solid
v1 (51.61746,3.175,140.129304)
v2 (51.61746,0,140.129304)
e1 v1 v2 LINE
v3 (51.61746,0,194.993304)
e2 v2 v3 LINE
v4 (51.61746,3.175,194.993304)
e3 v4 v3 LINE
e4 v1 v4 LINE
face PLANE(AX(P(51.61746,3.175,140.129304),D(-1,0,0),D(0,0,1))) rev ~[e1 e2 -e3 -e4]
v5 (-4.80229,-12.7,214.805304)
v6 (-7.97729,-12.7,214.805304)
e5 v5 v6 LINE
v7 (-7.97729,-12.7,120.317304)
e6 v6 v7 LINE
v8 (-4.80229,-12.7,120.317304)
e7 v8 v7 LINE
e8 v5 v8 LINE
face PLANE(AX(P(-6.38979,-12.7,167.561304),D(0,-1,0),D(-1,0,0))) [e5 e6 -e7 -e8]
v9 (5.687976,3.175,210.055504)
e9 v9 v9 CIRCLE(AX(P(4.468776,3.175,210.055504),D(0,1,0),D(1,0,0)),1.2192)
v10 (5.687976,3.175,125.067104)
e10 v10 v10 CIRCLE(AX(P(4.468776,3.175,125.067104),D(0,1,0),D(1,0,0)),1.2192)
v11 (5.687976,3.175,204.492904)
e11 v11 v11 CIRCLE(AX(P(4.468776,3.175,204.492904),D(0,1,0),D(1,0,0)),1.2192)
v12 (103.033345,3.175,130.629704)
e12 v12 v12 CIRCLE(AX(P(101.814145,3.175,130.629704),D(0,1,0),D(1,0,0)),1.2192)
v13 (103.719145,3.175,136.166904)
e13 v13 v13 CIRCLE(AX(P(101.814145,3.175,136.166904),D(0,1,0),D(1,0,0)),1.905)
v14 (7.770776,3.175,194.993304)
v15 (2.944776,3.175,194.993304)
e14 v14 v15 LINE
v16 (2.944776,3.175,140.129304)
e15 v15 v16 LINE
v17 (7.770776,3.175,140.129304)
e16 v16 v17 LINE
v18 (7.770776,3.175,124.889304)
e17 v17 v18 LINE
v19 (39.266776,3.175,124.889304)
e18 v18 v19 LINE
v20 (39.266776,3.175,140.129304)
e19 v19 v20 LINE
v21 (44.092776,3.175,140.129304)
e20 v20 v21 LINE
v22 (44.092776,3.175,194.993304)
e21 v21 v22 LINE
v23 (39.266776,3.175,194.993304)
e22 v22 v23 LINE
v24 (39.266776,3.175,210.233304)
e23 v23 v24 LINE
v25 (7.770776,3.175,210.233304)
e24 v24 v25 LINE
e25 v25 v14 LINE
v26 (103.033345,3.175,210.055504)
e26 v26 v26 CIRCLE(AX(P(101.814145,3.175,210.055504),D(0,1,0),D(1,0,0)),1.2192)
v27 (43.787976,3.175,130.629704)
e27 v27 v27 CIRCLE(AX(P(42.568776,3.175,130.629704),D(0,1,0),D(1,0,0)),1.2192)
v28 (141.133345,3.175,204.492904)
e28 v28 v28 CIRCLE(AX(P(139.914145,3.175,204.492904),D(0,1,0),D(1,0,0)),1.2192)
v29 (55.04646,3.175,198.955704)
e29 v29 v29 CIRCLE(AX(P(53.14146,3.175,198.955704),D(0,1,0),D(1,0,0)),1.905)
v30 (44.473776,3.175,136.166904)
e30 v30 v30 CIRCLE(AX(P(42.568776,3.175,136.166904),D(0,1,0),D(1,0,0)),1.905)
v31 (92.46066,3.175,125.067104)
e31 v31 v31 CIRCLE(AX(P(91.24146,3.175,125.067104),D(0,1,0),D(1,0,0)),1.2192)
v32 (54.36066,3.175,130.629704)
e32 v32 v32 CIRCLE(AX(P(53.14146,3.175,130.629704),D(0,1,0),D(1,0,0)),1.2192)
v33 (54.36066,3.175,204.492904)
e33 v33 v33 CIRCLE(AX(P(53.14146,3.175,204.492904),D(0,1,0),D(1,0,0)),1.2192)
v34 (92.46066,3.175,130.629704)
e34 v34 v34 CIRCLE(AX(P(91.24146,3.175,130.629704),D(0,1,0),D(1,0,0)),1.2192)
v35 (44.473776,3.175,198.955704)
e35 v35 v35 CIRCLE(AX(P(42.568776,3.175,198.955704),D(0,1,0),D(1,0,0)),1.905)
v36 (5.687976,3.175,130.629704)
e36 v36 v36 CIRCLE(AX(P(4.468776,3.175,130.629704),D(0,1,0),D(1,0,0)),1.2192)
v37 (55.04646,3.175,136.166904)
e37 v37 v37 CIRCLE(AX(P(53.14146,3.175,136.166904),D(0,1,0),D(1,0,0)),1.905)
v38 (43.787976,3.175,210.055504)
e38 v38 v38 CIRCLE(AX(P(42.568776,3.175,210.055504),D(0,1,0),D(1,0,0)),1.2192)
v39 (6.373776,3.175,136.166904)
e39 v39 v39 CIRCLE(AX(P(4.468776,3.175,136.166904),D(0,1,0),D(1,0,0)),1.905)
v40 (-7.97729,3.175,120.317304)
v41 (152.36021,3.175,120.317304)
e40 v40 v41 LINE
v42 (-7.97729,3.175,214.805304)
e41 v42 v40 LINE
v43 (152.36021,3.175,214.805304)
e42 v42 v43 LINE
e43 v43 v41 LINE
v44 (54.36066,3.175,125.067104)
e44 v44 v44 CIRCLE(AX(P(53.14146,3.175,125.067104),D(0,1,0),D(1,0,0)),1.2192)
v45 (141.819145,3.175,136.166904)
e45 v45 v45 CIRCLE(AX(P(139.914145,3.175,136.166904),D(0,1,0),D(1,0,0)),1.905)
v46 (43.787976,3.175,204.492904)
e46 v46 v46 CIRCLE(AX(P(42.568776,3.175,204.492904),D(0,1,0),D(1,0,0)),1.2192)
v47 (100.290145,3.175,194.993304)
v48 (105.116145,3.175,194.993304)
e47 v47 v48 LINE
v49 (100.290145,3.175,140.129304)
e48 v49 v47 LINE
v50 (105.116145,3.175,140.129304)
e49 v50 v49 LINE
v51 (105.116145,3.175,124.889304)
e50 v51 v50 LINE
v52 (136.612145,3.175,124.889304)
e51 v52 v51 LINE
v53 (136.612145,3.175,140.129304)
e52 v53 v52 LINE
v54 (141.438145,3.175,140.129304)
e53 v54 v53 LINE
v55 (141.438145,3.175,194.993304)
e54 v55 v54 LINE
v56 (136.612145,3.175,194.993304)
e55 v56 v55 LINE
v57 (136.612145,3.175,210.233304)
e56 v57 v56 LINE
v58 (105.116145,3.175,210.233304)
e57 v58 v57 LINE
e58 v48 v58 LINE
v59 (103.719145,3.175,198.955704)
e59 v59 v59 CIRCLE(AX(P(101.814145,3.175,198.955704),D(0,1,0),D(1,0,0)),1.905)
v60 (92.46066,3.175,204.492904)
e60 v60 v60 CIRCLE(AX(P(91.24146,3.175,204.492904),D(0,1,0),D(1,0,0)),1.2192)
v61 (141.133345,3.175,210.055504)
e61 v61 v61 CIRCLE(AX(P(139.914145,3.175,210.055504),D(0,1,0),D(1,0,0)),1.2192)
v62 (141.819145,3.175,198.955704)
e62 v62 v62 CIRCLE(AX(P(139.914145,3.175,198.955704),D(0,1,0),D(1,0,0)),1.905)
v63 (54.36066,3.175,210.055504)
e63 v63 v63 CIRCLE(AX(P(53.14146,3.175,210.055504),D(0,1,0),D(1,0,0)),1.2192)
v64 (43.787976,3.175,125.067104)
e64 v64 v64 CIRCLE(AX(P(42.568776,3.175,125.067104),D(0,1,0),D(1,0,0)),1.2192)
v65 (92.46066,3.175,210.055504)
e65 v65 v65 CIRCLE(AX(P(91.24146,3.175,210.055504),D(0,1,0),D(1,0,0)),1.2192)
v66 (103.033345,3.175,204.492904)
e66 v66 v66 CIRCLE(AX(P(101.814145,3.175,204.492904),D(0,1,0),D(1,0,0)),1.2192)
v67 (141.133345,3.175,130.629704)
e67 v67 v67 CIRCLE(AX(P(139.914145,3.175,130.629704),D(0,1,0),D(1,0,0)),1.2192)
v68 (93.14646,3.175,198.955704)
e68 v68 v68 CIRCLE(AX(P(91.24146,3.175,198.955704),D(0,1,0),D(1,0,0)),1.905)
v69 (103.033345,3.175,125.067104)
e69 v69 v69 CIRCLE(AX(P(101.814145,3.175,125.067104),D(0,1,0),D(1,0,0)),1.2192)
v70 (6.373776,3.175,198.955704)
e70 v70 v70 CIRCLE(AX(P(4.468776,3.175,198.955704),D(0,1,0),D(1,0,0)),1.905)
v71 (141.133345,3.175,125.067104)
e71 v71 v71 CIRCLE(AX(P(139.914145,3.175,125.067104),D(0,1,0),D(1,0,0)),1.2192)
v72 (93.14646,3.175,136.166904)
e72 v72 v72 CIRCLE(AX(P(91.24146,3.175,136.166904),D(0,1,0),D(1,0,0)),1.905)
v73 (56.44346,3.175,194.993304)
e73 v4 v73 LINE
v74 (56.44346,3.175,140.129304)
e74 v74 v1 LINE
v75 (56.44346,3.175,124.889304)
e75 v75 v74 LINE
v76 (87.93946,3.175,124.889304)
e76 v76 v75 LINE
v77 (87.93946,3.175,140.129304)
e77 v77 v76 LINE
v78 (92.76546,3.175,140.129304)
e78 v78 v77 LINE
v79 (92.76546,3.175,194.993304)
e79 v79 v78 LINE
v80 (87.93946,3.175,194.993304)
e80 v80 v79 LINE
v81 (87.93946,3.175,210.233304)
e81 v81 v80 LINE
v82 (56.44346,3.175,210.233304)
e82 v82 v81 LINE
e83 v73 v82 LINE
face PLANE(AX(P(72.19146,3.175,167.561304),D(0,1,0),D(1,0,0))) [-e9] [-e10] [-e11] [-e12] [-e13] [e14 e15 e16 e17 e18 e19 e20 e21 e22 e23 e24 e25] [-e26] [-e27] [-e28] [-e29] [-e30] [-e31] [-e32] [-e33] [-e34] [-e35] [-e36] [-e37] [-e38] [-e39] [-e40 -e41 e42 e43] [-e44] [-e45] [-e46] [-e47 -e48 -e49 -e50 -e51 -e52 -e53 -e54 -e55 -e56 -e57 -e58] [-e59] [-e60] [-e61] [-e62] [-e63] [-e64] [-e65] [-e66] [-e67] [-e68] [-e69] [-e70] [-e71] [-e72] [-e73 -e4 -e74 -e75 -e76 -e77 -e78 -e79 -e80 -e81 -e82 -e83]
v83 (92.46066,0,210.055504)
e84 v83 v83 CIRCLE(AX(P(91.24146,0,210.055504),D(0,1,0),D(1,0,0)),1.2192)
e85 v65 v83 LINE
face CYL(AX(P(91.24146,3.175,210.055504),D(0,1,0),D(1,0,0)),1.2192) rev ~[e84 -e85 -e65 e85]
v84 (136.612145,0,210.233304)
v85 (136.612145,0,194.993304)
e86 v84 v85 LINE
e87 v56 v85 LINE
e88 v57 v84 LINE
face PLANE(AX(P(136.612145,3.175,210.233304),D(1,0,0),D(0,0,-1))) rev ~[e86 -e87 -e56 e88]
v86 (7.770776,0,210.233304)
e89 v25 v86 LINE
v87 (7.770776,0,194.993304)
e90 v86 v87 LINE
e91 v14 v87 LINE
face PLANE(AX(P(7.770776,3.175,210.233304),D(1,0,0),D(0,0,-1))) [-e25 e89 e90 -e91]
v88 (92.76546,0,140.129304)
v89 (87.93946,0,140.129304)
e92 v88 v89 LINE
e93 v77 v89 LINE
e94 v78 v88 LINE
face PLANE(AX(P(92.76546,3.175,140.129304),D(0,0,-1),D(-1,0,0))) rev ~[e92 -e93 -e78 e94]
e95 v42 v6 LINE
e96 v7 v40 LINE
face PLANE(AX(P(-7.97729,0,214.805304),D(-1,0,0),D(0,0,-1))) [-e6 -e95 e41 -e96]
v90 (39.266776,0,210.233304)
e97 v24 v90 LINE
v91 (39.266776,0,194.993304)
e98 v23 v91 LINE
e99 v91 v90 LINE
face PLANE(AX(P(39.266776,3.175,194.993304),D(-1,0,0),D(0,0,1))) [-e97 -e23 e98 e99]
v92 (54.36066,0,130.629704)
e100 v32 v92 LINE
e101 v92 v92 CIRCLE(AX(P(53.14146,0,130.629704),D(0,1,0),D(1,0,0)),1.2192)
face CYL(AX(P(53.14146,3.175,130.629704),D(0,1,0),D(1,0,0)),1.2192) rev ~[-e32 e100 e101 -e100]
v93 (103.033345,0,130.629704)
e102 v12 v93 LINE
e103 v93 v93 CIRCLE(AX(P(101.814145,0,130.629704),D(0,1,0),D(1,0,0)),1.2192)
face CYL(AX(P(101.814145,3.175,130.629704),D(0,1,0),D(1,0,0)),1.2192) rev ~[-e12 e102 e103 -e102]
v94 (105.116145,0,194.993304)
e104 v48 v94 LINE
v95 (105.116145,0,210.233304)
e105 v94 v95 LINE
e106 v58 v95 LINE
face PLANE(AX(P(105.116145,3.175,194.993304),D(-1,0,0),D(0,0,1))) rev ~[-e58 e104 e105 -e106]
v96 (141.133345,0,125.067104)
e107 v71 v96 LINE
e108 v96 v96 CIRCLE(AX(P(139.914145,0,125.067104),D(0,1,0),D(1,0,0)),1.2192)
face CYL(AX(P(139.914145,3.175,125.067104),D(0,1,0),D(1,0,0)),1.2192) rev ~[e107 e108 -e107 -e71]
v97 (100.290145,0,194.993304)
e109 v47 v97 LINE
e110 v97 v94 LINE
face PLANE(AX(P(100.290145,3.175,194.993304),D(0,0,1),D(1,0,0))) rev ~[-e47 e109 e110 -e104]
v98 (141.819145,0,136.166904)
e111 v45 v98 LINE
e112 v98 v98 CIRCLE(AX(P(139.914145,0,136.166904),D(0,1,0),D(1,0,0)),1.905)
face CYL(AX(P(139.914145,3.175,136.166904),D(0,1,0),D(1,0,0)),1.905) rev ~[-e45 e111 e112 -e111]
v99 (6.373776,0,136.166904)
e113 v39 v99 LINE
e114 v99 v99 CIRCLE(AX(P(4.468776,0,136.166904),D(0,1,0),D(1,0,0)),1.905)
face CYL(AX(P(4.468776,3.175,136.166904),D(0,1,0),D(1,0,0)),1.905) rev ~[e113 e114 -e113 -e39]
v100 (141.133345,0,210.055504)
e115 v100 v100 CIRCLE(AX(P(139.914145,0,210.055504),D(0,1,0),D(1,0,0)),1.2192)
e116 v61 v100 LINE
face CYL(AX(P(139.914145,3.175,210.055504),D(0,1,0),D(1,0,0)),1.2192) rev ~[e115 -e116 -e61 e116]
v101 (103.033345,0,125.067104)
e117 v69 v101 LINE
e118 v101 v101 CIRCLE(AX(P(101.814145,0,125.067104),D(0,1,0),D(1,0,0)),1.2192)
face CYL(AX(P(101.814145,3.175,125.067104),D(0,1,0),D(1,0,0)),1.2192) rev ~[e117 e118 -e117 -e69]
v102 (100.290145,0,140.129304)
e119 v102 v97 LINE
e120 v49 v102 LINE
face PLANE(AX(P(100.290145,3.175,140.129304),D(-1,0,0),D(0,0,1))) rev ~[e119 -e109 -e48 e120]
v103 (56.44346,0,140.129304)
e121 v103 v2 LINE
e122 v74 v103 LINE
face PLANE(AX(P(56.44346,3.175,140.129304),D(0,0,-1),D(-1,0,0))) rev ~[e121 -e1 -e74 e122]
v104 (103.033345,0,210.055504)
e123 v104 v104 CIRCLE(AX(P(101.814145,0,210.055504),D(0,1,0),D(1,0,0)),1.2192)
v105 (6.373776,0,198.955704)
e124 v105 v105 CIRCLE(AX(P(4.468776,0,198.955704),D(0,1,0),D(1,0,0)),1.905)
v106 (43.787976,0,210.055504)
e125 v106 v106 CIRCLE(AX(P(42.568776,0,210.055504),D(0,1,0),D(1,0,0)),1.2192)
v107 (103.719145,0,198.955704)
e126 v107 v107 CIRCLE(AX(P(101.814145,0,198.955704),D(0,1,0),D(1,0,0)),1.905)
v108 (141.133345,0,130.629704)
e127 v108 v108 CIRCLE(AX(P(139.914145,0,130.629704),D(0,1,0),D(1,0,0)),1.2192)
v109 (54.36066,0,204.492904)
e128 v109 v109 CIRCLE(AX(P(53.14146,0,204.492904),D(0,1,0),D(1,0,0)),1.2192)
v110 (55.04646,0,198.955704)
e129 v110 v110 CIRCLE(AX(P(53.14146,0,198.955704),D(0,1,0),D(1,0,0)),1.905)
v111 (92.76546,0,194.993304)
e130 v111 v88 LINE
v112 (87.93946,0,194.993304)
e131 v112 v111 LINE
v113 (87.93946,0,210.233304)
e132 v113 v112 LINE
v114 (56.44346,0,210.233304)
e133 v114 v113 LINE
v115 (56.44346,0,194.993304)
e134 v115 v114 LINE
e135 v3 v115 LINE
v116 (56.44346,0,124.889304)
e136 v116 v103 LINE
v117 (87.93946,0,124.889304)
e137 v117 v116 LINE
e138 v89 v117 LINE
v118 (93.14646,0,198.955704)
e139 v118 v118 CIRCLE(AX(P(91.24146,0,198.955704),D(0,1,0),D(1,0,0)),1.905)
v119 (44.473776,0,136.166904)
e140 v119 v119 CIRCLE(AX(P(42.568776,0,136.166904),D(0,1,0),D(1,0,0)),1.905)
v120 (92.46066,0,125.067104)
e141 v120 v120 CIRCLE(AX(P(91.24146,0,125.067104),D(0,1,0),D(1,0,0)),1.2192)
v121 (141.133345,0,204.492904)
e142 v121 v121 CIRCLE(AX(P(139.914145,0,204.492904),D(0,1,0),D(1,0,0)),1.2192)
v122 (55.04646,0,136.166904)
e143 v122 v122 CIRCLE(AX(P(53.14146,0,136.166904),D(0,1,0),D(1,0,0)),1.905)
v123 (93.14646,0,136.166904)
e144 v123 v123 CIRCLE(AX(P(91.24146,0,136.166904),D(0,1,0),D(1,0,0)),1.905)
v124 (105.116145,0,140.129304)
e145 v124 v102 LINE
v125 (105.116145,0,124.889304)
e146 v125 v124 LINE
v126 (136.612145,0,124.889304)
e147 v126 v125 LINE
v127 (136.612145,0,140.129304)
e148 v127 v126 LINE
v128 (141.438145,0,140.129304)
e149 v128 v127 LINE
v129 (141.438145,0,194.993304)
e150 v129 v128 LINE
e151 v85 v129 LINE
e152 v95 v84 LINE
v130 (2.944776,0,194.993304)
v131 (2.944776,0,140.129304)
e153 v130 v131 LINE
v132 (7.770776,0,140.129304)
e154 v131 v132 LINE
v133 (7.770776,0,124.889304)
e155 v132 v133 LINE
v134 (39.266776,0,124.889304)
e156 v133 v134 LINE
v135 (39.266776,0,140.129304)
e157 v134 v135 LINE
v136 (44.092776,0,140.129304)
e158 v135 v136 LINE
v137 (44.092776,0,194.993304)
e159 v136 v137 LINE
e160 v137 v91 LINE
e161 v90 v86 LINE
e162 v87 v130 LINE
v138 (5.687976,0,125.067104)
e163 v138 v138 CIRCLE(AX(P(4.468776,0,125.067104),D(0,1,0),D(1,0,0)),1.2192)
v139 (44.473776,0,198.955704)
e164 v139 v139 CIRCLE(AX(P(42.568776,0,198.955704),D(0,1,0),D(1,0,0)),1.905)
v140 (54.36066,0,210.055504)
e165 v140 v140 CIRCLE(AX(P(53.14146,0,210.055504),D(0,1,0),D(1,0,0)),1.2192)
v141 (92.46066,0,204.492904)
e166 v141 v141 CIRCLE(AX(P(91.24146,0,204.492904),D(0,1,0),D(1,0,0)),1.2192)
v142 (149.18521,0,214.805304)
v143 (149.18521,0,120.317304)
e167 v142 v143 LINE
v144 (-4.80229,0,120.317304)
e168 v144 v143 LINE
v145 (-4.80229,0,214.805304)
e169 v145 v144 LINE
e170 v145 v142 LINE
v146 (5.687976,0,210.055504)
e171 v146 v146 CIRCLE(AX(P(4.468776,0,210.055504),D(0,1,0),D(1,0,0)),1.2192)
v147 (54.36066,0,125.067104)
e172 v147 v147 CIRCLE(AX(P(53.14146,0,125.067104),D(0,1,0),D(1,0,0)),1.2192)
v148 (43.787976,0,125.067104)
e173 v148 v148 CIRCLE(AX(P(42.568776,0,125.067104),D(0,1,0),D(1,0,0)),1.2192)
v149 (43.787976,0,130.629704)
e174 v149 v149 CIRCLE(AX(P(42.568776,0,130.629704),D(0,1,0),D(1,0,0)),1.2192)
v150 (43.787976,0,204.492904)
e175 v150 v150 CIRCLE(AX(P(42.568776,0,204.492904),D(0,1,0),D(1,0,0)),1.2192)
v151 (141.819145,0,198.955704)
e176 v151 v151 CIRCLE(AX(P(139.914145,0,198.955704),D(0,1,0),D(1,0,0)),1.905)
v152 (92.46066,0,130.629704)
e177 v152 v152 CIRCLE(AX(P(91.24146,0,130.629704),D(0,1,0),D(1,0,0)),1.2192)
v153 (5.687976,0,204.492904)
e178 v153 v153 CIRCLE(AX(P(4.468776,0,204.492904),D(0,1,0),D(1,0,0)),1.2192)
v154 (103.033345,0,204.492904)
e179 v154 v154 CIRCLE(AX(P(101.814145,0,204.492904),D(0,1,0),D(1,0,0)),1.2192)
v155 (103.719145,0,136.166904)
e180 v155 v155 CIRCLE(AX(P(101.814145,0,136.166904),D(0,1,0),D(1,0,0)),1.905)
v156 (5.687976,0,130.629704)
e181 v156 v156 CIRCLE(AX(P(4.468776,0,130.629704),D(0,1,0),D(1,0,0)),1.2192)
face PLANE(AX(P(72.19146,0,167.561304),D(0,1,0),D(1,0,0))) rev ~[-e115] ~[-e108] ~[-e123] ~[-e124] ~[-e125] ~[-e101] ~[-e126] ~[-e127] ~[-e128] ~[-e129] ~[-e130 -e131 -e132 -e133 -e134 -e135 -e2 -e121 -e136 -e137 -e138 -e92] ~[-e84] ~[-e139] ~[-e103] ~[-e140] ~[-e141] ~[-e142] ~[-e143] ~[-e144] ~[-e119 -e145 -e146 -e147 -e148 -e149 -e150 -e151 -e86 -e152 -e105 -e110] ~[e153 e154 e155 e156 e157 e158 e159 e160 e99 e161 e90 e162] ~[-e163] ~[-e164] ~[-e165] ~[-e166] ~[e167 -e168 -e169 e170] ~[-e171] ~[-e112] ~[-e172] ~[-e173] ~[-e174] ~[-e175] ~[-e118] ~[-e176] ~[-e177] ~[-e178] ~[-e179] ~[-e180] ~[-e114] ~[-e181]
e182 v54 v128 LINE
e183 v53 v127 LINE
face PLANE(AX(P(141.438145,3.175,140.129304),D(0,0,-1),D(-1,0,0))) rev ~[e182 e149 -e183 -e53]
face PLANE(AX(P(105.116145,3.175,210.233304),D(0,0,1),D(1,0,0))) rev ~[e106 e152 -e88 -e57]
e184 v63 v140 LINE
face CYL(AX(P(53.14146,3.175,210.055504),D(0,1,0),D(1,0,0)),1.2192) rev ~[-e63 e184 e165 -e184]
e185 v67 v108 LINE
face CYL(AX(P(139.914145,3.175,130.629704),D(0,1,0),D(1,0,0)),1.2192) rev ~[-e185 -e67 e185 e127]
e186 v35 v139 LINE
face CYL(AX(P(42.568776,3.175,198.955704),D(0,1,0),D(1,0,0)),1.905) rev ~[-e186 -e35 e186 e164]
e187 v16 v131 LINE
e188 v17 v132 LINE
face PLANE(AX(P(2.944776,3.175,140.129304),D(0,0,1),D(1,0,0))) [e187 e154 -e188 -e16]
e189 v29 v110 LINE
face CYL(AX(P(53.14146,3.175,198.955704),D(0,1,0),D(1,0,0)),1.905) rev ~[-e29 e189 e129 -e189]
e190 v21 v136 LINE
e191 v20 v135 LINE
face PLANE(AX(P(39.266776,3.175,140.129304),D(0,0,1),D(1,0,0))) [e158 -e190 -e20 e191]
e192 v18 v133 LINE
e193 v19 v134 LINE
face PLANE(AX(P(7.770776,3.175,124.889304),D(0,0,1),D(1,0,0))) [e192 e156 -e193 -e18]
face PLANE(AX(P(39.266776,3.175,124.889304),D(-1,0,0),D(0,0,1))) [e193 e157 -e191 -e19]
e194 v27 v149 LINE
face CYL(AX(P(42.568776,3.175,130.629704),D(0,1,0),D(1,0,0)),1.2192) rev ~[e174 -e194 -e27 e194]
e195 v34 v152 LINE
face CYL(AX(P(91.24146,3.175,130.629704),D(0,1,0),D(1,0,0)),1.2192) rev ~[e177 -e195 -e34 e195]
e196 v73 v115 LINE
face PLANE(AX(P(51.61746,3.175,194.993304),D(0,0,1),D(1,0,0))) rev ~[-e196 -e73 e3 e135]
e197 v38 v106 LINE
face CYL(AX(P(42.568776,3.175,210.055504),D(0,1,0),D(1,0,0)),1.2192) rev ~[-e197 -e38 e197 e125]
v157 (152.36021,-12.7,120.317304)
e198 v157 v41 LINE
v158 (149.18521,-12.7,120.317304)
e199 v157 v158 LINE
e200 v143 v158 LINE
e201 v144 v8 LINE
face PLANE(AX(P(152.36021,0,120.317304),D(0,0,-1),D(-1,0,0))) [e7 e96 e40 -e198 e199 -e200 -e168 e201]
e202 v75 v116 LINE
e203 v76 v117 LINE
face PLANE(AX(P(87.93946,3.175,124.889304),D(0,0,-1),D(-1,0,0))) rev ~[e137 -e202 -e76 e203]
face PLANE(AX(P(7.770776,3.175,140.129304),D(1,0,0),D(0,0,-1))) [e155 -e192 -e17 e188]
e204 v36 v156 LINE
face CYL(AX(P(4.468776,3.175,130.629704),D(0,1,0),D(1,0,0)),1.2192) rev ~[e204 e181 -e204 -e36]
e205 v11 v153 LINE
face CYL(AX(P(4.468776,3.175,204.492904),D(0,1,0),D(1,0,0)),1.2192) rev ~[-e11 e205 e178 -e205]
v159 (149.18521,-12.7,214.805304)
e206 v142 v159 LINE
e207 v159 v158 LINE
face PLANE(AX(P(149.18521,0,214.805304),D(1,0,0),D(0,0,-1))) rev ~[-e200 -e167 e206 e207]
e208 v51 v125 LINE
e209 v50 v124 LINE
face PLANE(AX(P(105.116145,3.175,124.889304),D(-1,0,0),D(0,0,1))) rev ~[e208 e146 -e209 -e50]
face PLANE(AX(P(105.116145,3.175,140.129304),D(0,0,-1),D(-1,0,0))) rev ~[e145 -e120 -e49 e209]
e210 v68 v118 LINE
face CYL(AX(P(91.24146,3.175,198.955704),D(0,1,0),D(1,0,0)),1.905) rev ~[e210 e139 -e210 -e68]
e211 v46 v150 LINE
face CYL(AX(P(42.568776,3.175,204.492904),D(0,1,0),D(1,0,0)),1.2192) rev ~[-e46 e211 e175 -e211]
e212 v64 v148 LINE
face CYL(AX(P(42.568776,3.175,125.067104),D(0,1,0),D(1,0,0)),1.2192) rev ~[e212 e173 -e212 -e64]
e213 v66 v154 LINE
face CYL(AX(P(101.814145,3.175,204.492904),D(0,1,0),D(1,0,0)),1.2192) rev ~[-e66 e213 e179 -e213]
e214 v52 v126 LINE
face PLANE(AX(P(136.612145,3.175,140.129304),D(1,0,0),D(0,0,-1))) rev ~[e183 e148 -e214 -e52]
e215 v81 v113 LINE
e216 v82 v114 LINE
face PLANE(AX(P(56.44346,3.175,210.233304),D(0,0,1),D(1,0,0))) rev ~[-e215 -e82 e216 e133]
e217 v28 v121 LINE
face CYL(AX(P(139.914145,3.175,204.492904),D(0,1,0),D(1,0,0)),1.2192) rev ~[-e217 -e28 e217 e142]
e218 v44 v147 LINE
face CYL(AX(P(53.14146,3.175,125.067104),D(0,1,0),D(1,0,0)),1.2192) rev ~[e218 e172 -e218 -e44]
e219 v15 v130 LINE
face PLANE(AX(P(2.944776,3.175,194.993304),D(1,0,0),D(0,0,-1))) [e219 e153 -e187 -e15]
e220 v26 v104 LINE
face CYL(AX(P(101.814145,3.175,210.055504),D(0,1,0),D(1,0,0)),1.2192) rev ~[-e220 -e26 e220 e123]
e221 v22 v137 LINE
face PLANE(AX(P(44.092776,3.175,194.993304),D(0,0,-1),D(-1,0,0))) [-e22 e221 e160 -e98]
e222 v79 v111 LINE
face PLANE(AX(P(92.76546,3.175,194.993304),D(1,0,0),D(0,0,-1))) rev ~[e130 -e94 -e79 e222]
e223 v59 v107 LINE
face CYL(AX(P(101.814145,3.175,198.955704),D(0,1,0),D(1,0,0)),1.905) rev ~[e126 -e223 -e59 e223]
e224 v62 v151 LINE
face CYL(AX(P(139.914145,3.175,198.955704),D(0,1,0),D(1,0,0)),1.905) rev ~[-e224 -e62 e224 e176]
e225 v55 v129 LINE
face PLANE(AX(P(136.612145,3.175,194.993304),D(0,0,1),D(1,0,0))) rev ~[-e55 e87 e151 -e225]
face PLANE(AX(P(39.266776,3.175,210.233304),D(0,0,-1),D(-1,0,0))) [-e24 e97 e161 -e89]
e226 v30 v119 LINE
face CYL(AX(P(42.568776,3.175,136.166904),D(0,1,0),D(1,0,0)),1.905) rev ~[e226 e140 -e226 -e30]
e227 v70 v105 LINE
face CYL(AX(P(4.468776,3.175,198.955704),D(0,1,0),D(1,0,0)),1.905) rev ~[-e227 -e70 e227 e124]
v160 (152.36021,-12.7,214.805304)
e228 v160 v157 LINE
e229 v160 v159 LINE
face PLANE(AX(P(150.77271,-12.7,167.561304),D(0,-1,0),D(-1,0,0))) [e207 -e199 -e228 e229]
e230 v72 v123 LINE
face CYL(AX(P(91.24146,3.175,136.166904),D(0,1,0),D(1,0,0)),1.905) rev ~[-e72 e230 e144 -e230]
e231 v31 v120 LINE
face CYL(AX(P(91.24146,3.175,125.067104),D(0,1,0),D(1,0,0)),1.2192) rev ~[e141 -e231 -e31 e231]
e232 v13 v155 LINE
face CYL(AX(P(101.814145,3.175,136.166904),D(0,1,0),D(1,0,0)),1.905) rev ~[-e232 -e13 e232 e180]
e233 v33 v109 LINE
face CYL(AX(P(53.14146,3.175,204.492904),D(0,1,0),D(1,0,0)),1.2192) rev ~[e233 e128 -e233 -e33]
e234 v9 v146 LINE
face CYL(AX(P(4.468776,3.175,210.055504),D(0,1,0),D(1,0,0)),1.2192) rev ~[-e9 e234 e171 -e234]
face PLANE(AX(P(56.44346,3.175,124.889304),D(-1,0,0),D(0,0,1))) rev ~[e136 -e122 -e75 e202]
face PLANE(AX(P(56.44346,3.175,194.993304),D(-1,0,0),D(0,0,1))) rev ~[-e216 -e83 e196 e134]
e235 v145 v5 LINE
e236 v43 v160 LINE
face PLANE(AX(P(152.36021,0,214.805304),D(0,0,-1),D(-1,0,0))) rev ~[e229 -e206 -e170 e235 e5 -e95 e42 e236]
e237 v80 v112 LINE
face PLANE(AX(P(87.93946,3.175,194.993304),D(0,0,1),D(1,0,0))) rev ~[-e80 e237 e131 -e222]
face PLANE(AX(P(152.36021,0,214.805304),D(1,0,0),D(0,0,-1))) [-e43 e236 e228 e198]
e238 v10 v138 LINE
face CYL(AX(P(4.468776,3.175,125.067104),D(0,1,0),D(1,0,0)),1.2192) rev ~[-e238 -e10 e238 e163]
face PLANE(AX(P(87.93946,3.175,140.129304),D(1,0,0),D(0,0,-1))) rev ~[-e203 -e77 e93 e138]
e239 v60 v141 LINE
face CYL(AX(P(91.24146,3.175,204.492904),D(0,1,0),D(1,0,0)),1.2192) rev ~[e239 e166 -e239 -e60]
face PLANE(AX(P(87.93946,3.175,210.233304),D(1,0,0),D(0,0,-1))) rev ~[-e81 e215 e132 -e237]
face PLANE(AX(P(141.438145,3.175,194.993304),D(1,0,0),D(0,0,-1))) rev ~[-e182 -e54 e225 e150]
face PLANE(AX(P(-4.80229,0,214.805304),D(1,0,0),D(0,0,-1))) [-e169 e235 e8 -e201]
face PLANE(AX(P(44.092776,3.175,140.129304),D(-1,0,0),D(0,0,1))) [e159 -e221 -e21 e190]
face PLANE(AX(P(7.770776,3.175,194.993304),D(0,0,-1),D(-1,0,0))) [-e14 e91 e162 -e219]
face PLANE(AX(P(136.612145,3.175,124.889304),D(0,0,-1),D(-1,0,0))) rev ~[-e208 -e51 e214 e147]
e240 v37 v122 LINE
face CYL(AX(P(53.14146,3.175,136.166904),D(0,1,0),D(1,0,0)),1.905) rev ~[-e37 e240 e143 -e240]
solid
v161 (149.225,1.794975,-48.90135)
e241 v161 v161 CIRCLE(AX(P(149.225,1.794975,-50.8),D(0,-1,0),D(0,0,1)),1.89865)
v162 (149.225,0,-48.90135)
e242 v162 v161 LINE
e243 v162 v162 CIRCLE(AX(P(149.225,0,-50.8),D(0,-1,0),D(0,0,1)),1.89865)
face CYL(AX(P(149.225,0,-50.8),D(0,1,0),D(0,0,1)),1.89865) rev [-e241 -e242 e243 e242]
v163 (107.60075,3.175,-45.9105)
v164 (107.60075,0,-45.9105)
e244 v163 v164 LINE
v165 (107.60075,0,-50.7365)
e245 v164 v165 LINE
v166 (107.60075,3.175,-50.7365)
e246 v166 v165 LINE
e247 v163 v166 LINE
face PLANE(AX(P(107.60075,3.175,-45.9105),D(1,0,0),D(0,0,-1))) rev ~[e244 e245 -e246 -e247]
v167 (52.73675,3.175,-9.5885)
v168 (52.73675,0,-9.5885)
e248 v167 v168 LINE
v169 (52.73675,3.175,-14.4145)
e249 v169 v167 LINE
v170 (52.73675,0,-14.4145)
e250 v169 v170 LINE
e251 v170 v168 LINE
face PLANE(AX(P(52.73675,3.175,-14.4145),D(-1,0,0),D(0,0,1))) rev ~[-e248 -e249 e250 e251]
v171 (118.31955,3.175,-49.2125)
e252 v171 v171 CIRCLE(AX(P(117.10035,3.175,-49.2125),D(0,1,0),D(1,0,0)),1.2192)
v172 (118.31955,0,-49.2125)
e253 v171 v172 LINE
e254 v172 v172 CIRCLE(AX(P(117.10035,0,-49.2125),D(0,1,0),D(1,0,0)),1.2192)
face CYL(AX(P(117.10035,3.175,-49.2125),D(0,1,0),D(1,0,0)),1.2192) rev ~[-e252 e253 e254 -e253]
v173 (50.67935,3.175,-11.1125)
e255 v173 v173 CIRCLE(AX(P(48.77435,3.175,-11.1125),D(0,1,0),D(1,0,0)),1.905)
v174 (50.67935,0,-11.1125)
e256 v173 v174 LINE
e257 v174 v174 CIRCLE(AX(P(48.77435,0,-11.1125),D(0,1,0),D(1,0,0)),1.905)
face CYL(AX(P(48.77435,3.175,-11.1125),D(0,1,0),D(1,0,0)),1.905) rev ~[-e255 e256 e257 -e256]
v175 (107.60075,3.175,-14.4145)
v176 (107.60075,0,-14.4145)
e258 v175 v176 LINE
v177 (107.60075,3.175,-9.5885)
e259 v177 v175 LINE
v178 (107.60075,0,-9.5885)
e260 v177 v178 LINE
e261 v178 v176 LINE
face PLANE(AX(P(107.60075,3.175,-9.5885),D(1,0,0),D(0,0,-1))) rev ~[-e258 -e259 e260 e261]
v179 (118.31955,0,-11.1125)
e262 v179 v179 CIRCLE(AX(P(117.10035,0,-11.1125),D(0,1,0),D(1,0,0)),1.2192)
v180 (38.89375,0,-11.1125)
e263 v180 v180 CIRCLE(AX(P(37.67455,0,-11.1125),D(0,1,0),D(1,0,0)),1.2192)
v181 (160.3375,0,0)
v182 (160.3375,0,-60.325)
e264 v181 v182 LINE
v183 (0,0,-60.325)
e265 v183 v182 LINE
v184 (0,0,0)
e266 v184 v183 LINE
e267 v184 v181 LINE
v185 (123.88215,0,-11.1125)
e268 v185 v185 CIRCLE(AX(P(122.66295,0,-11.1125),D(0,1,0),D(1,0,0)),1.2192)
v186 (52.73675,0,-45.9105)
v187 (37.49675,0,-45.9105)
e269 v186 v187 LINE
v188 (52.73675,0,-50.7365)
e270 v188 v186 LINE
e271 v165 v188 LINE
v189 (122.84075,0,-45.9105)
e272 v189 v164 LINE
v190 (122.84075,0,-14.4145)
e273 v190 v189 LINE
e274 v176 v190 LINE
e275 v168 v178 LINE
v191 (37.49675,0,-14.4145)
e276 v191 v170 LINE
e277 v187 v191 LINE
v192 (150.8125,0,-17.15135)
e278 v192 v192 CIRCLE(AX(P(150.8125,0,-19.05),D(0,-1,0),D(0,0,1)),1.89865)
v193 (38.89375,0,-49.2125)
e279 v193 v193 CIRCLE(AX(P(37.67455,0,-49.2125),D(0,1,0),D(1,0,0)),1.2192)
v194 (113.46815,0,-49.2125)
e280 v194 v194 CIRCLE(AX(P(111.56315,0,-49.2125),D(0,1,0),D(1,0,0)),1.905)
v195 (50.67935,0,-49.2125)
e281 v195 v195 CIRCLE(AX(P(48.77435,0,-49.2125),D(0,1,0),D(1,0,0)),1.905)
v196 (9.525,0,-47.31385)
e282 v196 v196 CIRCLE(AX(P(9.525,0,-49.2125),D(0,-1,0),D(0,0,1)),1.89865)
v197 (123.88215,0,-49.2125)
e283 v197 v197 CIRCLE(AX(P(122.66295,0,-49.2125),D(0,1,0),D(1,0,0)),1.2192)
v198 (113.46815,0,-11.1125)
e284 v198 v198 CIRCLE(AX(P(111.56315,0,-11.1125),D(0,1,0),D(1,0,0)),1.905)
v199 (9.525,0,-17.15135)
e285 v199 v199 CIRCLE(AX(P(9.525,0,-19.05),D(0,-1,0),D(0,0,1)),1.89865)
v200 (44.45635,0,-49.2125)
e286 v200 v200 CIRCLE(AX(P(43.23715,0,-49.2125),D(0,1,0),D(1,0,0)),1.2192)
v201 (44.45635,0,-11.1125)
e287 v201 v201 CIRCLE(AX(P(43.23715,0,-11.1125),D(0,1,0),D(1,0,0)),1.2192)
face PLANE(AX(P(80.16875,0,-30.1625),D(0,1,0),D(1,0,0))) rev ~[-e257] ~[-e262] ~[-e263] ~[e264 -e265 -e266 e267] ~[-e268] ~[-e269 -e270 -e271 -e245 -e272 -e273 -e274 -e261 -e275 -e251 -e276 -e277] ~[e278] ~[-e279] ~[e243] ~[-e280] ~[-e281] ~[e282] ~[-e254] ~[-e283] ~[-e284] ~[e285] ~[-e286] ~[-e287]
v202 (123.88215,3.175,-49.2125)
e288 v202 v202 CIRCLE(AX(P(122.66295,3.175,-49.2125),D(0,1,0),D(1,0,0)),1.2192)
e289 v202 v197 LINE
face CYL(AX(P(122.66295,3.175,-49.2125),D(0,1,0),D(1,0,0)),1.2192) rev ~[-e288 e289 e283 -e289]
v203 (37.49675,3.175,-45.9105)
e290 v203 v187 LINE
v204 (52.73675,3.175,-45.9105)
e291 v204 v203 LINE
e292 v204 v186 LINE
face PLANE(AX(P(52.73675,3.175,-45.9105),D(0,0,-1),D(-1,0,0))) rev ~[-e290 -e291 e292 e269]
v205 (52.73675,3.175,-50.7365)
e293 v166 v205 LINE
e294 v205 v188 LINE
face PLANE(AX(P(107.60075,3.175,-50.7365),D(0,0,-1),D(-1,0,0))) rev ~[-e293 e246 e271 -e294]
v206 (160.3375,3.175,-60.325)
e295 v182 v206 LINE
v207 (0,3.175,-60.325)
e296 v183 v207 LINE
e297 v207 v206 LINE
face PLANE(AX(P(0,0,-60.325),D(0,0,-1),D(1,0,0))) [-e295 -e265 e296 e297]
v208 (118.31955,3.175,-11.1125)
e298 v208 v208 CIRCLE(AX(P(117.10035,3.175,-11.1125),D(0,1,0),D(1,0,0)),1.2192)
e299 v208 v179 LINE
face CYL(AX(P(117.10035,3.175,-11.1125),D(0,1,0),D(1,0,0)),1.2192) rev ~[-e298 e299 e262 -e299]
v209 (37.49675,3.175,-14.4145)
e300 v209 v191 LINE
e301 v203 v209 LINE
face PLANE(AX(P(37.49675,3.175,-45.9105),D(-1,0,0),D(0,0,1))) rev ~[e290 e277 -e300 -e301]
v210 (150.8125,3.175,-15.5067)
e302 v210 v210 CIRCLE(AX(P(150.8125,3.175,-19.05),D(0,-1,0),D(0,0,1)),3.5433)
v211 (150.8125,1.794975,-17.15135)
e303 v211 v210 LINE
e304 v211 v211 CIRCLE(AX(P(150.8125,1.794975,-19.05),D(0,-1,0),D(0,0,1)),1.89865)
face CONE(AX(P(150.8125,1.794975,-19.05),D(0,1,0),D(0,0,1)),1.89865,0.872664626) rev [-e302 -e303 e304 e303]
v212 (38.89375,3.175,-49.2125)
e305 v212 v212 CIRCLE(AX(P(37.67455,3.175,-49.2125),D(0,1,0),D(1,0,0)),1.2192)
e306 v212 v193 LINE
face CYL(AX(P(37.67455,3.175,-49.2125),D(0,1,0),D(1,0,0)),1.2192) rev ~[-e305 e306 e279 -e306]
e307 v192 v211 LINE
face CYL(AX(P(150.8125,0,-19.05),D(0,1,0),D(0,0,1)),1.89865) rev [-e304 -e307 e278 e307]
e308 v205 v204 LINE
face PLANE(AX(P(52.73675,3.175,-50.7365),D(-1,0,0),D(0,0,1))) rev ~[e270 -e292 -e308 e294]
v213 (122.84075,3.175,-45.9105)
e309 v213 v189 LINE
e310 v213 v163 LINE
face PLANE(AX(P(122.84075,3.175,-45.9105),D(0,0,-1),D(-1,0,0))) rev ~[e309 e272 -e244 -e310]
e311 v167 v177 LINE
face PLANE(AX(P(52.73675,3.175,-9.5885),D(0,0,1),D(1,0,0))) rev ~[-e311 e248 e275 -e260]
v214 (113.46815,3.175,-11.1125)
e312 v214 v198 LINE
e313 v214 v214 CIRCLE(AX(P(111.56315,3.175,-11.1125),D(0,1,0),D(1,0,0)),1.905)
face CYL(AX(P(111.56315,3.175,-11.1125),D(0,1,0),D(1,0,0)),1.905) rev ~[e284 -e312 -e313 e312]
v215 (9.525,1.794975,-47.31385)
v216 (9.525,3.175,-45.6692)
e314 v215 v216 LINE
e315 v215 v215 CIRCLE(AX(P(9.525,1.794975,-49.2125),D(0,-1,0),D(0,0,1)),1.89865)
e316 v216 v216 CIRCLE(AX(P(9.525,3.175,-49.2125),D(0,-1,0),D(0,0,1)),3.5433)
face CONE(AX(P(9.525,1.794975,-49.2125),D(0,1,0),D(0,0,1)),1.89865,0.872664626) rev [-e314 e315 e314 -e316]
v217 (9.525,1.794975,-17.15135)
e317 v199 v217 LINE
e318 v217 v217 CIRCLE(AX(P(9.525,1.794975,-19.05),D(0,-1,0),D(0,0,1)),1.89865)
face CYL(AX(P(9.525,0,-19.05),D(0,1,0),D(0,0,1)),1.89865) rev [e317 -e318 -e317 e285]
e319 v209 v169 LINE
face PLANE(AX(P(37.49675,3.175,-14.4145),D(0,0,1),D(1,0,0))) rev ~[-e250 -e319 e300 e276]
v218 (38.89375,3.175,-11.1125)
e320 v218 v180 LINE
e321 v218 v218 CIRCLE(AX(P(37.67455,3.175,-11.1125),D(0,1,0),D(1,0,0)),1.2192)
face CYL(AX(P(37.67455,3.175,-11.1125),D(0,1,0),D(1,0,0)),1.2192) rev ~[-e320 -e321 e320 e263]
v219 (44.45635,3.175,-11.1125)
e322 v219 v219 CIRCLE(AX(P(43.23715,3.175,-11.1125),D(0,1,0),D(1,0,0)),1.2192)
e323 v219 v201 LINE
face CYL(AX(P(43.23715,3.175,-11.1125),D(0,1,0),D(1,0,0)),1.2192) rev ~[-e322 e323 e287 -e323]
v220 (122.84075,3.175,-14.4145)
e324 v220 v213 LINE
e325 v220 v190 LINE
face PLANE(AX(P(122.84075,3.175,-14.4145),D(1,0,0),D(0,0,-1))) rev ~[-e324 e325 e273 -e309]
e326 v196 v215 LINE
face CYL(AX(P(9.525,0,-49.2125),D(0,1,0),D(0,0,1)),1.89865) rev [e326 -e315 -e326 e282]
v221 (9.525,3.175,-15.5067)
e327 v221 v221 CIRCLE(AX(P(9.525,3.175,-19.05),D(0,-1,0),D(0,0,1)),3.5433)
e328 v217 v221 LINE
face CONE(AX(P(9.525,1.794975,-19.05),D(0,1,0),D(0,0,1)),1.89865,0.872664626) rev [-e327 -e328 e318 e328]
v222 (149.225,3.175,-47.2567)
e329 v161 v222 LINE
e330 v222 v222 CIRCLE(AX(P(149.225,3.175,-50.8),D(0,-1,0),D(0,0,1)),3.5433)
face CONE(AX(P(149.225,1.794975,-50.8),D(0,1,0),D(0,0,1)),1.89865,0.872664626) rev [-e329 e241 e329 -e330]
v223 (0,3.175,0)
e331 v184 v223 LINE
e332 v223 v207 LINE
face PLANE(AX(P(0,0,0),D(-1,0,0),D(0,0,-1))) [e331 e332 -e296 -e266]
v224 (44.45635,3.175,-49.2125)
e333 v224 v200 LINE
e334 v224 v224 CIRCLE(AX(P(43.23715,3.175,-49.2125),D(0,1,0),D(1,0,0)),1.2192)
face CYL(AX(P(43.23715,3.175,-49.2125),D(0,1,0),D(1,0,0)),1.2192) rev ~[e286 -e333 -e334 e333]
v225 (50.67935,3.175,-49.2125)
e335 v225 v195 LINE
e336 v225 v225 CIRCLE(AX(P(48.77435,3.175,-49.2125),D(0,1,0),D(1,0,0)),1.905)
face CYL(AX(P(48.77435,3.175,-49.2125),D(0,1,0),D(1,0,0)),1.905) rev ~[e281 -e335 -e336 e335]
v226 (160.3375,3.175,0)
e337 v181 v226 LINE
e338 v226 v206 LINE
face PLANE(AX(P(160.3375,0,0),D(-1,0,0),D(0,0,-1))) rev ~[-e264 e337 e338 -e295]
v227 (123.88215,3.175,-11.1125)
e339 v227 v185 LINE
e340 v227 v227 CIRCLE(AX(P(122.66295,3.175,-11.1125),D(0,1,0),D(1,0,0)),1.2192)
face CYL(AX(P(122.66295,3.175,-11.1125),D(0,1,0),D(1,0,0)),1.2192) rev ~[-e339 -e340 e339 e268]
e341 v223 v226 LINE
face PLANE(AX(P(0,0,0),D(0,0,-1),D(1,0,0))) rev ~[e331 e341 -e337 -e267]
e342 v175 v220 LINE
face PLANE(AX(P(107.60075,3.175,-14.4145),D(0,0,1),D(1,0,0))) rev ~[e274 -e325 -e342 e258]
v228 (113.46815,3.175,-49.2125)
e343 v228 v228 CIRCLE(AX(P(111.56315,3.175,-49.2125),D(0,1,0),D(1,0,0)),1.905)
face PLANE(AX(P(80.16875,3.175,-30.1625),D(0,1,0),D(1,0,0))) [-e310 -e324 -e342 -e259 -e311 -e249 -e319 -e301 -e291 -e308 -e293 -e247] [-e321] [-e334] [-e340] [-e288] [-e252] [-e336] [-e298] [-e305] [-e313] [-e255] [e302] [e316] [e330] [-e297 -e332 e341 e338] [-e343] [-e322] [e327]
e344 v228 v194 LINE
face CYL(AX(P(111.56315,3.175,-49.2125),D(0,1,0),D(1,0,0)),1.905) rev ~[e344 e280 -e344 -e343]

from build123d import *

# Parameters (mm, degrees)
SKETCH1_W                                 = 160.3375
SKETCH1_H                                 = 60.325
SKETCH1_R                                 = 0.254
BOSS_EXTRUDE1_DEPTH                       = 3.175
SKETCH1_H_2                               = 94.488
BOSS_EXTRUDE1_2_DEPTH                     = 3.175
CSK_FOR_6_FLAT_HEAD_MACHINE_SCREW_2_COUNT = 2
CSK_FOR_6_FLAT_HEAD_MACHINE_SCREW_2_PITCH = 30.1625
CSK_FOR_6_FLAT_HEAD_MACHINE_SCREW_3_COUNT = 2
CSK_FOR_6_FLAT_HEAD_MACHINE_SCREW_3_PITCH = 139.709019595
CSK_FOR_6_FLAT_HEAD_MACHINE_SCREW_4_COUNT = 2
CSK_FOR_6_FLAT_HEAD_MACHINE_SCREW_4_PITCH = 144.471222264
SKETCH15_W                                = 3.175
SKETCH15_H                                = 94.488
BOSS_EXTRUDE2_DEPTH                       = 12.7
SKETCH19_R                                = 1.905
SKETCH19_R_2                              = 1.2192
CUT_EXTRUDE1_DEPTH                        = 12.7


with BuildPart() as part:
    # Sketch1 → Boss-Extrude1 (new body)
    with BuildSketch(Plane(origin=(0, 0, 0), x_dir=(1, 0, 0), z_dir=(0, 1, 0))):
        with Locations((80.16875, 30.1625)):
            Rectangle(SKETCH1_W, SKETCH1_H)
        with Locations((9.525, 49.2125)):
            Circle(SKETCH1_R, mode=Mode.SUBTRACT)
        with Locations((9.525, 19.05)):
            Circle(SKETCH1_R, mode=Mode.SUBTRACT)
        with Locations((149.225, 50.8)):
            Circle(SKETCH1_R, mode=Mode.SUBTRACT)
        with Locations((150.8125, 19.05)):
            Circle(SKETCH1_R, mode=Mode.SUBTRACT)
    extrude(amount=BOSS_EXTRUDE1_DEPTH)

    # Sketch12 → CSK for #6 Flat Head Machine Screw (100)2 (revolve, cut)
    with BuildSketch(Plane(origin=(9.525, 3.175, -49.2125), x_dir=(0, 0, 1), z_dir=(1, 0, 0))):
        Polygon((0, 0), (0, 3.175), (1.89865, 3.175), (1.89865, 1.380025208), (3.5433, 0), align=None)
    csk_for_6_flat_head_machine_screw_100 = revolve(axis=Axis((9.525, 9.525, -49.2125), (0, -1, 0)), mode=Mode.SUBTRACT)

    # CSK for _6 Flat Head Machine Screw _ 2: CSK for #6 Flat Head Machine Screw (100)2 ×2
    with Locations(*[(0, 0, i * CSK_FOR_6_FLAT_HEAD_MACHINE_SCREW_2_PITCH) for i in range(1, CSK_FOR_6_FLAT_HEAD_MACHINE_SCREW_2_COUNT)]):
        add(csk_for_6_flat_head_machine_screw_100, mode=Mode.SUBTRACT)

    # CSK for _6 Flat Head Machine Screw _ 3: CSK for #6 Flat Head Machine Screw (100)2 ×2
    with Locations(*[Vector(0.99993544, 0, -0.011362903) * (i * CSK_FOR_6_FLAT_HEAD_MACHINE_SCREW_3_PITCH) for i in range(1, CSK_FOR_6_FLAT_HEAD_MACHINE_SCREW_3_COUNT)]):
        add(csk_for_6_flat_head_machine_screw_100, mode=Mode.SUBTRACT)

    # CSK for _6 Flat Head Machine Screw _ 4: CSK for #6 Flat Head Machine Screw (100)2 ×2
    with Locations(*[Vector(0.977962931, 0, 0.208778603) * (i * CSK_FOR_6_FLAT_HEAD_MACHINE_SCREW_4_PITCH) for i in range(1, CSK_FOR_6_FLAT_HEAD_MACHINE_SCREW_4_COUNT)]):
        add(csk_for_6_flat_head_machine_screw_100, mode=Mode.SUBTRACT)


with BuildPart() as body_2:
    # Sketch1 → Boss-Extrude1 2 (new body)
    with BuildSketch(Plane(origin=(0, 0, 0), x_dir=(1, 0, 0), z_dir=(0, 1, 0))):
        with Locations((72.191460269, -167.561304185)):
            Rectangle(SKETCH1_W, SKETCH1_H_2)
    extrude(amount=BOSS_EXTRUDE1_2_DEPTH)

    # Sketch15 → Boss-Extrude2 (add)
    with BuildSketch(Plane(origin=(0, 0, 0), x_dir=(-1, 0, 0), z_dir=(0, -1, 0))):
        with Locations((-150.772710269, -167.561304185)):
            Rectangle(SKETCH15_W, SKETCH15_H)
        with Locations((6.389789731, -167.561304185)):
            Rectangle(SKETCH15_W, SKETCH15_H)
    extrude(amount=BOSS_EXTRUDE2_DEPTH)


with BuildPart() as cut_extrude1_tool:
    # Sketch19 → Cut-Extrude1 (new body)
    with BuildSketch(Plane(origin=(0, 3.175, 0), x_dir=(1, 0, 0), z_dir=(0, 1, 0))):
        with Locations((42.56877594, -136.166904185)):
            Circle(SKETCH19_R)
        with Locations((42.56877594, -130.629704185)):
            Circle(SKETCH19_R_2)
        with Locations((42.56877594, -125.067104185)):
            Circle(SKETCH19_R_2)
        with Locations((4.46877594, -136.166904185)):
            Circle(SKETCH19_R)
        with Locations((4.46877594, -130.629704185)):
            Circle(SKETCH19_R_2)
        with Locations((4.46877594, -125.067104185)):
            Circle(SKETCH19_R_2)
        with Locations((42.56877594, -210.055504185)):
            Circle(SKETCH19_R_2)
        with Locations((42.56877594, -204.492904185)):
            Circle(SKETCH19_R_2)
        with Locations((42.56877594, -198.955704185)):
            Circle(SKETCH19_R)
        with Locations((4.46877594, -210.055504185)):
            Circle(SKETCH19_R_2)
        with Locations((4.46877594, -204.492904185)):
            Circle(SKETCH19_R_2)
        with Locations((4.46877594, -198.955704185)):
            Circle(SKETCH19_R)
        with Locations((139.914144598, -125.067104185)):
            Circle(SKETCH19_R_2)
        with Locations((139.914144598, -130.629704185)):
            Circle(SKETCH19_R_2)
        with Locations((139.914144598, -136.166904185)):
            Circle(SKETCH19_R)
        with Locations((101.814144598, -136.166904185)):
            Circle(SKETCH19_R)
        with Locations((101.814144598, -130.629704185)):
            Circle(SKETCH19_R_2)
        with Locations((101.814144598, -125.067104185)):
            Circle(SKETCH19_R_2)
        with Locations((91.241460269, -136.166904185)):
            Circle(SKETCH19_R)
        with Locations((91.241460269, -130.629704185)):
            Circle(SKETCH19_R_2)
        with Locations((91.241460269, -125.067104185)):
            Circle(SKETCH19_R_2)
        with Locations((139.914144598, -210.055504185)):
            Circle(SKETCH19_R_2)
        with Locations((139.914144598, -204.492904185)):
            Circle(SKETCH19_R_2)
        with Locations((139.914144598, -198.955704185)):
            Circle(SKETCH19_R)
        with Locations((101.814144598, -210.055504185)):
            Circle(SKETCH19_R_2)
        with Locations((101.814144598, -204.492904185)):
            Circle(SKETCH19_R_2)
        with Locations((101.814144598, -198.955704185)):
            Circle(SKETCH19_R)
        with Locations((91.241460269, -210.055504185)):
            Circle(SKETCH19_R_2)
        with Locations((91.241460269, -204.492904185)):
            Circle(SKETCH19_R_2)
        with Locations((91.241460269, -198.955704185)):
            Circle(SKETCH19_R)
        with Locations((53.141460269, -198.955704185)):
            Circle(SKETCH19_R)
        with Locations((53.141460269, -204.492904185)):
            Circle(SKETCH19_R_2)
        with Locations((53.141460269, -210.055504185)):
            Circle(SKETCH19_R_2)
        with Locations((53.141460269, -136.166904185)):
            Circle(SKETCH19_R)
        with Locations((53.141460269, -130.629704185)):
            Circle(SKETCH19_R_2)
        with Locations((53.141460269, -125.067104185)):
            Circle(SKETCH19_R_2)
        with Locations((37.67455, 49.2125)):
            Circle(SKETCH19_R_2)
        with Locations((43.23715, 49.2125)):
            Circle(SKETCH19_R_2)
        with Locations((48.77435, 49.2125)):
            Circle(SKETCH19_R)
        with Locations((37.67455, 11.1125)):
            Circle(SKETCH19_R_2)
        with Locations((43.23715, 11.1125)):
            Circle(SKETCH19_R_2)
        with Locations((48.77435, 11.1125)):
            Circle(SKETCH19_R)
        with Locations((111.56315, 11.1125)):
            Circle(SKETCH19_R)
        with Locations((117.10035, 11.1125)):
            Circle(SKETCH19_R_2)
        with Locations((122.66295, 11.1125)):
            Circle(SKETCH19_R_2)
        with Locations((122.66295, 49.2125)):
            Circle(SKETCH19_R_2)
        with Locations((117.10035, 49.2125)):
            Circle(SKETCH19_R_2)
        with Locations((111.56315, 49.2125)):
            Circle(SKETCH19_R)
        Polygon((7.77077594, -124.889304185), (39.26677594, -124.889304185), (39.26677594, -140.129304185), (44.09277594, -140.129304185), (44.09277594, -194.993304185), (39.26677594, -194.993304185), (39.26677594, -210.233304185), (7.77077594, -210.233304185), (7.77077594, -194.993304185), (2.94477594, -194.993304185), (2.94477594, -140.129304185), (7.77077594, -140.129304185), align=None)
        Polygon((141.438144598, -140.129304185), (136.612144598, -140.129304185), (136.612144598, -124.889304185), (105.116144598, -124.889304185), (105.116144598, -140.129304185), (100.290144598, -140.129304185), (100.290144598, -194.993304185), (105.116144598, -194.993304185), (105.116144598, -210.233304185), (136.612144598, -210.233304185), (136.612144598, -194.993304185), (141.438144598, -194.993304185), align=None)
        Polygon((56.443460269, -210.233304185), (87.939460269, -210.233304185), (87.939460269, -194.993304185), (92.765460269, -194.993304185), (92.765460269, -140.129304185), (87.939460269, -140.129304185), (87.939460269, -124.889304185), (56.443460269, -124.889304185), (56.443460269, -140.129304185), (51.617460269, -140.129304185), (51.617460269, -194.993304185), (56.443460269, -194.993304185), align=None)
        Polygon((122.84075, 45.9105), (107.60075, 45.9105), (107.60075, 50.7365), (52.73675, 50.7365), (52.73675, 45.9105), (37.49675, 45.9105), (37.49675, 14.4145), (52.73675, 14.4145), (52.73675, 9.5885), (107.60075, 9.5885), (107.60075, 14.4145), (122.84075, 14.4145), align=None)
    extrude(amount=-CUT_EXTRUDE1_DEPTH)


with BuildPart() as part_1:
    add(part.part)

    # Cut-Extrude1: cut by cut_extrude1_tool
    add(cut_extrude1_tool.part, mode=Mode.SUBTRACT)


with BuildPart() as body_2_1:
    add(body_2.part)

    # Cut-Extrude1: cut by cut_extrude1_tool
    add(cut_extrude1_tool.part, mode=Mode.SUBTRACT)


solid = Compound([part_1.part, body_2_1.part])
